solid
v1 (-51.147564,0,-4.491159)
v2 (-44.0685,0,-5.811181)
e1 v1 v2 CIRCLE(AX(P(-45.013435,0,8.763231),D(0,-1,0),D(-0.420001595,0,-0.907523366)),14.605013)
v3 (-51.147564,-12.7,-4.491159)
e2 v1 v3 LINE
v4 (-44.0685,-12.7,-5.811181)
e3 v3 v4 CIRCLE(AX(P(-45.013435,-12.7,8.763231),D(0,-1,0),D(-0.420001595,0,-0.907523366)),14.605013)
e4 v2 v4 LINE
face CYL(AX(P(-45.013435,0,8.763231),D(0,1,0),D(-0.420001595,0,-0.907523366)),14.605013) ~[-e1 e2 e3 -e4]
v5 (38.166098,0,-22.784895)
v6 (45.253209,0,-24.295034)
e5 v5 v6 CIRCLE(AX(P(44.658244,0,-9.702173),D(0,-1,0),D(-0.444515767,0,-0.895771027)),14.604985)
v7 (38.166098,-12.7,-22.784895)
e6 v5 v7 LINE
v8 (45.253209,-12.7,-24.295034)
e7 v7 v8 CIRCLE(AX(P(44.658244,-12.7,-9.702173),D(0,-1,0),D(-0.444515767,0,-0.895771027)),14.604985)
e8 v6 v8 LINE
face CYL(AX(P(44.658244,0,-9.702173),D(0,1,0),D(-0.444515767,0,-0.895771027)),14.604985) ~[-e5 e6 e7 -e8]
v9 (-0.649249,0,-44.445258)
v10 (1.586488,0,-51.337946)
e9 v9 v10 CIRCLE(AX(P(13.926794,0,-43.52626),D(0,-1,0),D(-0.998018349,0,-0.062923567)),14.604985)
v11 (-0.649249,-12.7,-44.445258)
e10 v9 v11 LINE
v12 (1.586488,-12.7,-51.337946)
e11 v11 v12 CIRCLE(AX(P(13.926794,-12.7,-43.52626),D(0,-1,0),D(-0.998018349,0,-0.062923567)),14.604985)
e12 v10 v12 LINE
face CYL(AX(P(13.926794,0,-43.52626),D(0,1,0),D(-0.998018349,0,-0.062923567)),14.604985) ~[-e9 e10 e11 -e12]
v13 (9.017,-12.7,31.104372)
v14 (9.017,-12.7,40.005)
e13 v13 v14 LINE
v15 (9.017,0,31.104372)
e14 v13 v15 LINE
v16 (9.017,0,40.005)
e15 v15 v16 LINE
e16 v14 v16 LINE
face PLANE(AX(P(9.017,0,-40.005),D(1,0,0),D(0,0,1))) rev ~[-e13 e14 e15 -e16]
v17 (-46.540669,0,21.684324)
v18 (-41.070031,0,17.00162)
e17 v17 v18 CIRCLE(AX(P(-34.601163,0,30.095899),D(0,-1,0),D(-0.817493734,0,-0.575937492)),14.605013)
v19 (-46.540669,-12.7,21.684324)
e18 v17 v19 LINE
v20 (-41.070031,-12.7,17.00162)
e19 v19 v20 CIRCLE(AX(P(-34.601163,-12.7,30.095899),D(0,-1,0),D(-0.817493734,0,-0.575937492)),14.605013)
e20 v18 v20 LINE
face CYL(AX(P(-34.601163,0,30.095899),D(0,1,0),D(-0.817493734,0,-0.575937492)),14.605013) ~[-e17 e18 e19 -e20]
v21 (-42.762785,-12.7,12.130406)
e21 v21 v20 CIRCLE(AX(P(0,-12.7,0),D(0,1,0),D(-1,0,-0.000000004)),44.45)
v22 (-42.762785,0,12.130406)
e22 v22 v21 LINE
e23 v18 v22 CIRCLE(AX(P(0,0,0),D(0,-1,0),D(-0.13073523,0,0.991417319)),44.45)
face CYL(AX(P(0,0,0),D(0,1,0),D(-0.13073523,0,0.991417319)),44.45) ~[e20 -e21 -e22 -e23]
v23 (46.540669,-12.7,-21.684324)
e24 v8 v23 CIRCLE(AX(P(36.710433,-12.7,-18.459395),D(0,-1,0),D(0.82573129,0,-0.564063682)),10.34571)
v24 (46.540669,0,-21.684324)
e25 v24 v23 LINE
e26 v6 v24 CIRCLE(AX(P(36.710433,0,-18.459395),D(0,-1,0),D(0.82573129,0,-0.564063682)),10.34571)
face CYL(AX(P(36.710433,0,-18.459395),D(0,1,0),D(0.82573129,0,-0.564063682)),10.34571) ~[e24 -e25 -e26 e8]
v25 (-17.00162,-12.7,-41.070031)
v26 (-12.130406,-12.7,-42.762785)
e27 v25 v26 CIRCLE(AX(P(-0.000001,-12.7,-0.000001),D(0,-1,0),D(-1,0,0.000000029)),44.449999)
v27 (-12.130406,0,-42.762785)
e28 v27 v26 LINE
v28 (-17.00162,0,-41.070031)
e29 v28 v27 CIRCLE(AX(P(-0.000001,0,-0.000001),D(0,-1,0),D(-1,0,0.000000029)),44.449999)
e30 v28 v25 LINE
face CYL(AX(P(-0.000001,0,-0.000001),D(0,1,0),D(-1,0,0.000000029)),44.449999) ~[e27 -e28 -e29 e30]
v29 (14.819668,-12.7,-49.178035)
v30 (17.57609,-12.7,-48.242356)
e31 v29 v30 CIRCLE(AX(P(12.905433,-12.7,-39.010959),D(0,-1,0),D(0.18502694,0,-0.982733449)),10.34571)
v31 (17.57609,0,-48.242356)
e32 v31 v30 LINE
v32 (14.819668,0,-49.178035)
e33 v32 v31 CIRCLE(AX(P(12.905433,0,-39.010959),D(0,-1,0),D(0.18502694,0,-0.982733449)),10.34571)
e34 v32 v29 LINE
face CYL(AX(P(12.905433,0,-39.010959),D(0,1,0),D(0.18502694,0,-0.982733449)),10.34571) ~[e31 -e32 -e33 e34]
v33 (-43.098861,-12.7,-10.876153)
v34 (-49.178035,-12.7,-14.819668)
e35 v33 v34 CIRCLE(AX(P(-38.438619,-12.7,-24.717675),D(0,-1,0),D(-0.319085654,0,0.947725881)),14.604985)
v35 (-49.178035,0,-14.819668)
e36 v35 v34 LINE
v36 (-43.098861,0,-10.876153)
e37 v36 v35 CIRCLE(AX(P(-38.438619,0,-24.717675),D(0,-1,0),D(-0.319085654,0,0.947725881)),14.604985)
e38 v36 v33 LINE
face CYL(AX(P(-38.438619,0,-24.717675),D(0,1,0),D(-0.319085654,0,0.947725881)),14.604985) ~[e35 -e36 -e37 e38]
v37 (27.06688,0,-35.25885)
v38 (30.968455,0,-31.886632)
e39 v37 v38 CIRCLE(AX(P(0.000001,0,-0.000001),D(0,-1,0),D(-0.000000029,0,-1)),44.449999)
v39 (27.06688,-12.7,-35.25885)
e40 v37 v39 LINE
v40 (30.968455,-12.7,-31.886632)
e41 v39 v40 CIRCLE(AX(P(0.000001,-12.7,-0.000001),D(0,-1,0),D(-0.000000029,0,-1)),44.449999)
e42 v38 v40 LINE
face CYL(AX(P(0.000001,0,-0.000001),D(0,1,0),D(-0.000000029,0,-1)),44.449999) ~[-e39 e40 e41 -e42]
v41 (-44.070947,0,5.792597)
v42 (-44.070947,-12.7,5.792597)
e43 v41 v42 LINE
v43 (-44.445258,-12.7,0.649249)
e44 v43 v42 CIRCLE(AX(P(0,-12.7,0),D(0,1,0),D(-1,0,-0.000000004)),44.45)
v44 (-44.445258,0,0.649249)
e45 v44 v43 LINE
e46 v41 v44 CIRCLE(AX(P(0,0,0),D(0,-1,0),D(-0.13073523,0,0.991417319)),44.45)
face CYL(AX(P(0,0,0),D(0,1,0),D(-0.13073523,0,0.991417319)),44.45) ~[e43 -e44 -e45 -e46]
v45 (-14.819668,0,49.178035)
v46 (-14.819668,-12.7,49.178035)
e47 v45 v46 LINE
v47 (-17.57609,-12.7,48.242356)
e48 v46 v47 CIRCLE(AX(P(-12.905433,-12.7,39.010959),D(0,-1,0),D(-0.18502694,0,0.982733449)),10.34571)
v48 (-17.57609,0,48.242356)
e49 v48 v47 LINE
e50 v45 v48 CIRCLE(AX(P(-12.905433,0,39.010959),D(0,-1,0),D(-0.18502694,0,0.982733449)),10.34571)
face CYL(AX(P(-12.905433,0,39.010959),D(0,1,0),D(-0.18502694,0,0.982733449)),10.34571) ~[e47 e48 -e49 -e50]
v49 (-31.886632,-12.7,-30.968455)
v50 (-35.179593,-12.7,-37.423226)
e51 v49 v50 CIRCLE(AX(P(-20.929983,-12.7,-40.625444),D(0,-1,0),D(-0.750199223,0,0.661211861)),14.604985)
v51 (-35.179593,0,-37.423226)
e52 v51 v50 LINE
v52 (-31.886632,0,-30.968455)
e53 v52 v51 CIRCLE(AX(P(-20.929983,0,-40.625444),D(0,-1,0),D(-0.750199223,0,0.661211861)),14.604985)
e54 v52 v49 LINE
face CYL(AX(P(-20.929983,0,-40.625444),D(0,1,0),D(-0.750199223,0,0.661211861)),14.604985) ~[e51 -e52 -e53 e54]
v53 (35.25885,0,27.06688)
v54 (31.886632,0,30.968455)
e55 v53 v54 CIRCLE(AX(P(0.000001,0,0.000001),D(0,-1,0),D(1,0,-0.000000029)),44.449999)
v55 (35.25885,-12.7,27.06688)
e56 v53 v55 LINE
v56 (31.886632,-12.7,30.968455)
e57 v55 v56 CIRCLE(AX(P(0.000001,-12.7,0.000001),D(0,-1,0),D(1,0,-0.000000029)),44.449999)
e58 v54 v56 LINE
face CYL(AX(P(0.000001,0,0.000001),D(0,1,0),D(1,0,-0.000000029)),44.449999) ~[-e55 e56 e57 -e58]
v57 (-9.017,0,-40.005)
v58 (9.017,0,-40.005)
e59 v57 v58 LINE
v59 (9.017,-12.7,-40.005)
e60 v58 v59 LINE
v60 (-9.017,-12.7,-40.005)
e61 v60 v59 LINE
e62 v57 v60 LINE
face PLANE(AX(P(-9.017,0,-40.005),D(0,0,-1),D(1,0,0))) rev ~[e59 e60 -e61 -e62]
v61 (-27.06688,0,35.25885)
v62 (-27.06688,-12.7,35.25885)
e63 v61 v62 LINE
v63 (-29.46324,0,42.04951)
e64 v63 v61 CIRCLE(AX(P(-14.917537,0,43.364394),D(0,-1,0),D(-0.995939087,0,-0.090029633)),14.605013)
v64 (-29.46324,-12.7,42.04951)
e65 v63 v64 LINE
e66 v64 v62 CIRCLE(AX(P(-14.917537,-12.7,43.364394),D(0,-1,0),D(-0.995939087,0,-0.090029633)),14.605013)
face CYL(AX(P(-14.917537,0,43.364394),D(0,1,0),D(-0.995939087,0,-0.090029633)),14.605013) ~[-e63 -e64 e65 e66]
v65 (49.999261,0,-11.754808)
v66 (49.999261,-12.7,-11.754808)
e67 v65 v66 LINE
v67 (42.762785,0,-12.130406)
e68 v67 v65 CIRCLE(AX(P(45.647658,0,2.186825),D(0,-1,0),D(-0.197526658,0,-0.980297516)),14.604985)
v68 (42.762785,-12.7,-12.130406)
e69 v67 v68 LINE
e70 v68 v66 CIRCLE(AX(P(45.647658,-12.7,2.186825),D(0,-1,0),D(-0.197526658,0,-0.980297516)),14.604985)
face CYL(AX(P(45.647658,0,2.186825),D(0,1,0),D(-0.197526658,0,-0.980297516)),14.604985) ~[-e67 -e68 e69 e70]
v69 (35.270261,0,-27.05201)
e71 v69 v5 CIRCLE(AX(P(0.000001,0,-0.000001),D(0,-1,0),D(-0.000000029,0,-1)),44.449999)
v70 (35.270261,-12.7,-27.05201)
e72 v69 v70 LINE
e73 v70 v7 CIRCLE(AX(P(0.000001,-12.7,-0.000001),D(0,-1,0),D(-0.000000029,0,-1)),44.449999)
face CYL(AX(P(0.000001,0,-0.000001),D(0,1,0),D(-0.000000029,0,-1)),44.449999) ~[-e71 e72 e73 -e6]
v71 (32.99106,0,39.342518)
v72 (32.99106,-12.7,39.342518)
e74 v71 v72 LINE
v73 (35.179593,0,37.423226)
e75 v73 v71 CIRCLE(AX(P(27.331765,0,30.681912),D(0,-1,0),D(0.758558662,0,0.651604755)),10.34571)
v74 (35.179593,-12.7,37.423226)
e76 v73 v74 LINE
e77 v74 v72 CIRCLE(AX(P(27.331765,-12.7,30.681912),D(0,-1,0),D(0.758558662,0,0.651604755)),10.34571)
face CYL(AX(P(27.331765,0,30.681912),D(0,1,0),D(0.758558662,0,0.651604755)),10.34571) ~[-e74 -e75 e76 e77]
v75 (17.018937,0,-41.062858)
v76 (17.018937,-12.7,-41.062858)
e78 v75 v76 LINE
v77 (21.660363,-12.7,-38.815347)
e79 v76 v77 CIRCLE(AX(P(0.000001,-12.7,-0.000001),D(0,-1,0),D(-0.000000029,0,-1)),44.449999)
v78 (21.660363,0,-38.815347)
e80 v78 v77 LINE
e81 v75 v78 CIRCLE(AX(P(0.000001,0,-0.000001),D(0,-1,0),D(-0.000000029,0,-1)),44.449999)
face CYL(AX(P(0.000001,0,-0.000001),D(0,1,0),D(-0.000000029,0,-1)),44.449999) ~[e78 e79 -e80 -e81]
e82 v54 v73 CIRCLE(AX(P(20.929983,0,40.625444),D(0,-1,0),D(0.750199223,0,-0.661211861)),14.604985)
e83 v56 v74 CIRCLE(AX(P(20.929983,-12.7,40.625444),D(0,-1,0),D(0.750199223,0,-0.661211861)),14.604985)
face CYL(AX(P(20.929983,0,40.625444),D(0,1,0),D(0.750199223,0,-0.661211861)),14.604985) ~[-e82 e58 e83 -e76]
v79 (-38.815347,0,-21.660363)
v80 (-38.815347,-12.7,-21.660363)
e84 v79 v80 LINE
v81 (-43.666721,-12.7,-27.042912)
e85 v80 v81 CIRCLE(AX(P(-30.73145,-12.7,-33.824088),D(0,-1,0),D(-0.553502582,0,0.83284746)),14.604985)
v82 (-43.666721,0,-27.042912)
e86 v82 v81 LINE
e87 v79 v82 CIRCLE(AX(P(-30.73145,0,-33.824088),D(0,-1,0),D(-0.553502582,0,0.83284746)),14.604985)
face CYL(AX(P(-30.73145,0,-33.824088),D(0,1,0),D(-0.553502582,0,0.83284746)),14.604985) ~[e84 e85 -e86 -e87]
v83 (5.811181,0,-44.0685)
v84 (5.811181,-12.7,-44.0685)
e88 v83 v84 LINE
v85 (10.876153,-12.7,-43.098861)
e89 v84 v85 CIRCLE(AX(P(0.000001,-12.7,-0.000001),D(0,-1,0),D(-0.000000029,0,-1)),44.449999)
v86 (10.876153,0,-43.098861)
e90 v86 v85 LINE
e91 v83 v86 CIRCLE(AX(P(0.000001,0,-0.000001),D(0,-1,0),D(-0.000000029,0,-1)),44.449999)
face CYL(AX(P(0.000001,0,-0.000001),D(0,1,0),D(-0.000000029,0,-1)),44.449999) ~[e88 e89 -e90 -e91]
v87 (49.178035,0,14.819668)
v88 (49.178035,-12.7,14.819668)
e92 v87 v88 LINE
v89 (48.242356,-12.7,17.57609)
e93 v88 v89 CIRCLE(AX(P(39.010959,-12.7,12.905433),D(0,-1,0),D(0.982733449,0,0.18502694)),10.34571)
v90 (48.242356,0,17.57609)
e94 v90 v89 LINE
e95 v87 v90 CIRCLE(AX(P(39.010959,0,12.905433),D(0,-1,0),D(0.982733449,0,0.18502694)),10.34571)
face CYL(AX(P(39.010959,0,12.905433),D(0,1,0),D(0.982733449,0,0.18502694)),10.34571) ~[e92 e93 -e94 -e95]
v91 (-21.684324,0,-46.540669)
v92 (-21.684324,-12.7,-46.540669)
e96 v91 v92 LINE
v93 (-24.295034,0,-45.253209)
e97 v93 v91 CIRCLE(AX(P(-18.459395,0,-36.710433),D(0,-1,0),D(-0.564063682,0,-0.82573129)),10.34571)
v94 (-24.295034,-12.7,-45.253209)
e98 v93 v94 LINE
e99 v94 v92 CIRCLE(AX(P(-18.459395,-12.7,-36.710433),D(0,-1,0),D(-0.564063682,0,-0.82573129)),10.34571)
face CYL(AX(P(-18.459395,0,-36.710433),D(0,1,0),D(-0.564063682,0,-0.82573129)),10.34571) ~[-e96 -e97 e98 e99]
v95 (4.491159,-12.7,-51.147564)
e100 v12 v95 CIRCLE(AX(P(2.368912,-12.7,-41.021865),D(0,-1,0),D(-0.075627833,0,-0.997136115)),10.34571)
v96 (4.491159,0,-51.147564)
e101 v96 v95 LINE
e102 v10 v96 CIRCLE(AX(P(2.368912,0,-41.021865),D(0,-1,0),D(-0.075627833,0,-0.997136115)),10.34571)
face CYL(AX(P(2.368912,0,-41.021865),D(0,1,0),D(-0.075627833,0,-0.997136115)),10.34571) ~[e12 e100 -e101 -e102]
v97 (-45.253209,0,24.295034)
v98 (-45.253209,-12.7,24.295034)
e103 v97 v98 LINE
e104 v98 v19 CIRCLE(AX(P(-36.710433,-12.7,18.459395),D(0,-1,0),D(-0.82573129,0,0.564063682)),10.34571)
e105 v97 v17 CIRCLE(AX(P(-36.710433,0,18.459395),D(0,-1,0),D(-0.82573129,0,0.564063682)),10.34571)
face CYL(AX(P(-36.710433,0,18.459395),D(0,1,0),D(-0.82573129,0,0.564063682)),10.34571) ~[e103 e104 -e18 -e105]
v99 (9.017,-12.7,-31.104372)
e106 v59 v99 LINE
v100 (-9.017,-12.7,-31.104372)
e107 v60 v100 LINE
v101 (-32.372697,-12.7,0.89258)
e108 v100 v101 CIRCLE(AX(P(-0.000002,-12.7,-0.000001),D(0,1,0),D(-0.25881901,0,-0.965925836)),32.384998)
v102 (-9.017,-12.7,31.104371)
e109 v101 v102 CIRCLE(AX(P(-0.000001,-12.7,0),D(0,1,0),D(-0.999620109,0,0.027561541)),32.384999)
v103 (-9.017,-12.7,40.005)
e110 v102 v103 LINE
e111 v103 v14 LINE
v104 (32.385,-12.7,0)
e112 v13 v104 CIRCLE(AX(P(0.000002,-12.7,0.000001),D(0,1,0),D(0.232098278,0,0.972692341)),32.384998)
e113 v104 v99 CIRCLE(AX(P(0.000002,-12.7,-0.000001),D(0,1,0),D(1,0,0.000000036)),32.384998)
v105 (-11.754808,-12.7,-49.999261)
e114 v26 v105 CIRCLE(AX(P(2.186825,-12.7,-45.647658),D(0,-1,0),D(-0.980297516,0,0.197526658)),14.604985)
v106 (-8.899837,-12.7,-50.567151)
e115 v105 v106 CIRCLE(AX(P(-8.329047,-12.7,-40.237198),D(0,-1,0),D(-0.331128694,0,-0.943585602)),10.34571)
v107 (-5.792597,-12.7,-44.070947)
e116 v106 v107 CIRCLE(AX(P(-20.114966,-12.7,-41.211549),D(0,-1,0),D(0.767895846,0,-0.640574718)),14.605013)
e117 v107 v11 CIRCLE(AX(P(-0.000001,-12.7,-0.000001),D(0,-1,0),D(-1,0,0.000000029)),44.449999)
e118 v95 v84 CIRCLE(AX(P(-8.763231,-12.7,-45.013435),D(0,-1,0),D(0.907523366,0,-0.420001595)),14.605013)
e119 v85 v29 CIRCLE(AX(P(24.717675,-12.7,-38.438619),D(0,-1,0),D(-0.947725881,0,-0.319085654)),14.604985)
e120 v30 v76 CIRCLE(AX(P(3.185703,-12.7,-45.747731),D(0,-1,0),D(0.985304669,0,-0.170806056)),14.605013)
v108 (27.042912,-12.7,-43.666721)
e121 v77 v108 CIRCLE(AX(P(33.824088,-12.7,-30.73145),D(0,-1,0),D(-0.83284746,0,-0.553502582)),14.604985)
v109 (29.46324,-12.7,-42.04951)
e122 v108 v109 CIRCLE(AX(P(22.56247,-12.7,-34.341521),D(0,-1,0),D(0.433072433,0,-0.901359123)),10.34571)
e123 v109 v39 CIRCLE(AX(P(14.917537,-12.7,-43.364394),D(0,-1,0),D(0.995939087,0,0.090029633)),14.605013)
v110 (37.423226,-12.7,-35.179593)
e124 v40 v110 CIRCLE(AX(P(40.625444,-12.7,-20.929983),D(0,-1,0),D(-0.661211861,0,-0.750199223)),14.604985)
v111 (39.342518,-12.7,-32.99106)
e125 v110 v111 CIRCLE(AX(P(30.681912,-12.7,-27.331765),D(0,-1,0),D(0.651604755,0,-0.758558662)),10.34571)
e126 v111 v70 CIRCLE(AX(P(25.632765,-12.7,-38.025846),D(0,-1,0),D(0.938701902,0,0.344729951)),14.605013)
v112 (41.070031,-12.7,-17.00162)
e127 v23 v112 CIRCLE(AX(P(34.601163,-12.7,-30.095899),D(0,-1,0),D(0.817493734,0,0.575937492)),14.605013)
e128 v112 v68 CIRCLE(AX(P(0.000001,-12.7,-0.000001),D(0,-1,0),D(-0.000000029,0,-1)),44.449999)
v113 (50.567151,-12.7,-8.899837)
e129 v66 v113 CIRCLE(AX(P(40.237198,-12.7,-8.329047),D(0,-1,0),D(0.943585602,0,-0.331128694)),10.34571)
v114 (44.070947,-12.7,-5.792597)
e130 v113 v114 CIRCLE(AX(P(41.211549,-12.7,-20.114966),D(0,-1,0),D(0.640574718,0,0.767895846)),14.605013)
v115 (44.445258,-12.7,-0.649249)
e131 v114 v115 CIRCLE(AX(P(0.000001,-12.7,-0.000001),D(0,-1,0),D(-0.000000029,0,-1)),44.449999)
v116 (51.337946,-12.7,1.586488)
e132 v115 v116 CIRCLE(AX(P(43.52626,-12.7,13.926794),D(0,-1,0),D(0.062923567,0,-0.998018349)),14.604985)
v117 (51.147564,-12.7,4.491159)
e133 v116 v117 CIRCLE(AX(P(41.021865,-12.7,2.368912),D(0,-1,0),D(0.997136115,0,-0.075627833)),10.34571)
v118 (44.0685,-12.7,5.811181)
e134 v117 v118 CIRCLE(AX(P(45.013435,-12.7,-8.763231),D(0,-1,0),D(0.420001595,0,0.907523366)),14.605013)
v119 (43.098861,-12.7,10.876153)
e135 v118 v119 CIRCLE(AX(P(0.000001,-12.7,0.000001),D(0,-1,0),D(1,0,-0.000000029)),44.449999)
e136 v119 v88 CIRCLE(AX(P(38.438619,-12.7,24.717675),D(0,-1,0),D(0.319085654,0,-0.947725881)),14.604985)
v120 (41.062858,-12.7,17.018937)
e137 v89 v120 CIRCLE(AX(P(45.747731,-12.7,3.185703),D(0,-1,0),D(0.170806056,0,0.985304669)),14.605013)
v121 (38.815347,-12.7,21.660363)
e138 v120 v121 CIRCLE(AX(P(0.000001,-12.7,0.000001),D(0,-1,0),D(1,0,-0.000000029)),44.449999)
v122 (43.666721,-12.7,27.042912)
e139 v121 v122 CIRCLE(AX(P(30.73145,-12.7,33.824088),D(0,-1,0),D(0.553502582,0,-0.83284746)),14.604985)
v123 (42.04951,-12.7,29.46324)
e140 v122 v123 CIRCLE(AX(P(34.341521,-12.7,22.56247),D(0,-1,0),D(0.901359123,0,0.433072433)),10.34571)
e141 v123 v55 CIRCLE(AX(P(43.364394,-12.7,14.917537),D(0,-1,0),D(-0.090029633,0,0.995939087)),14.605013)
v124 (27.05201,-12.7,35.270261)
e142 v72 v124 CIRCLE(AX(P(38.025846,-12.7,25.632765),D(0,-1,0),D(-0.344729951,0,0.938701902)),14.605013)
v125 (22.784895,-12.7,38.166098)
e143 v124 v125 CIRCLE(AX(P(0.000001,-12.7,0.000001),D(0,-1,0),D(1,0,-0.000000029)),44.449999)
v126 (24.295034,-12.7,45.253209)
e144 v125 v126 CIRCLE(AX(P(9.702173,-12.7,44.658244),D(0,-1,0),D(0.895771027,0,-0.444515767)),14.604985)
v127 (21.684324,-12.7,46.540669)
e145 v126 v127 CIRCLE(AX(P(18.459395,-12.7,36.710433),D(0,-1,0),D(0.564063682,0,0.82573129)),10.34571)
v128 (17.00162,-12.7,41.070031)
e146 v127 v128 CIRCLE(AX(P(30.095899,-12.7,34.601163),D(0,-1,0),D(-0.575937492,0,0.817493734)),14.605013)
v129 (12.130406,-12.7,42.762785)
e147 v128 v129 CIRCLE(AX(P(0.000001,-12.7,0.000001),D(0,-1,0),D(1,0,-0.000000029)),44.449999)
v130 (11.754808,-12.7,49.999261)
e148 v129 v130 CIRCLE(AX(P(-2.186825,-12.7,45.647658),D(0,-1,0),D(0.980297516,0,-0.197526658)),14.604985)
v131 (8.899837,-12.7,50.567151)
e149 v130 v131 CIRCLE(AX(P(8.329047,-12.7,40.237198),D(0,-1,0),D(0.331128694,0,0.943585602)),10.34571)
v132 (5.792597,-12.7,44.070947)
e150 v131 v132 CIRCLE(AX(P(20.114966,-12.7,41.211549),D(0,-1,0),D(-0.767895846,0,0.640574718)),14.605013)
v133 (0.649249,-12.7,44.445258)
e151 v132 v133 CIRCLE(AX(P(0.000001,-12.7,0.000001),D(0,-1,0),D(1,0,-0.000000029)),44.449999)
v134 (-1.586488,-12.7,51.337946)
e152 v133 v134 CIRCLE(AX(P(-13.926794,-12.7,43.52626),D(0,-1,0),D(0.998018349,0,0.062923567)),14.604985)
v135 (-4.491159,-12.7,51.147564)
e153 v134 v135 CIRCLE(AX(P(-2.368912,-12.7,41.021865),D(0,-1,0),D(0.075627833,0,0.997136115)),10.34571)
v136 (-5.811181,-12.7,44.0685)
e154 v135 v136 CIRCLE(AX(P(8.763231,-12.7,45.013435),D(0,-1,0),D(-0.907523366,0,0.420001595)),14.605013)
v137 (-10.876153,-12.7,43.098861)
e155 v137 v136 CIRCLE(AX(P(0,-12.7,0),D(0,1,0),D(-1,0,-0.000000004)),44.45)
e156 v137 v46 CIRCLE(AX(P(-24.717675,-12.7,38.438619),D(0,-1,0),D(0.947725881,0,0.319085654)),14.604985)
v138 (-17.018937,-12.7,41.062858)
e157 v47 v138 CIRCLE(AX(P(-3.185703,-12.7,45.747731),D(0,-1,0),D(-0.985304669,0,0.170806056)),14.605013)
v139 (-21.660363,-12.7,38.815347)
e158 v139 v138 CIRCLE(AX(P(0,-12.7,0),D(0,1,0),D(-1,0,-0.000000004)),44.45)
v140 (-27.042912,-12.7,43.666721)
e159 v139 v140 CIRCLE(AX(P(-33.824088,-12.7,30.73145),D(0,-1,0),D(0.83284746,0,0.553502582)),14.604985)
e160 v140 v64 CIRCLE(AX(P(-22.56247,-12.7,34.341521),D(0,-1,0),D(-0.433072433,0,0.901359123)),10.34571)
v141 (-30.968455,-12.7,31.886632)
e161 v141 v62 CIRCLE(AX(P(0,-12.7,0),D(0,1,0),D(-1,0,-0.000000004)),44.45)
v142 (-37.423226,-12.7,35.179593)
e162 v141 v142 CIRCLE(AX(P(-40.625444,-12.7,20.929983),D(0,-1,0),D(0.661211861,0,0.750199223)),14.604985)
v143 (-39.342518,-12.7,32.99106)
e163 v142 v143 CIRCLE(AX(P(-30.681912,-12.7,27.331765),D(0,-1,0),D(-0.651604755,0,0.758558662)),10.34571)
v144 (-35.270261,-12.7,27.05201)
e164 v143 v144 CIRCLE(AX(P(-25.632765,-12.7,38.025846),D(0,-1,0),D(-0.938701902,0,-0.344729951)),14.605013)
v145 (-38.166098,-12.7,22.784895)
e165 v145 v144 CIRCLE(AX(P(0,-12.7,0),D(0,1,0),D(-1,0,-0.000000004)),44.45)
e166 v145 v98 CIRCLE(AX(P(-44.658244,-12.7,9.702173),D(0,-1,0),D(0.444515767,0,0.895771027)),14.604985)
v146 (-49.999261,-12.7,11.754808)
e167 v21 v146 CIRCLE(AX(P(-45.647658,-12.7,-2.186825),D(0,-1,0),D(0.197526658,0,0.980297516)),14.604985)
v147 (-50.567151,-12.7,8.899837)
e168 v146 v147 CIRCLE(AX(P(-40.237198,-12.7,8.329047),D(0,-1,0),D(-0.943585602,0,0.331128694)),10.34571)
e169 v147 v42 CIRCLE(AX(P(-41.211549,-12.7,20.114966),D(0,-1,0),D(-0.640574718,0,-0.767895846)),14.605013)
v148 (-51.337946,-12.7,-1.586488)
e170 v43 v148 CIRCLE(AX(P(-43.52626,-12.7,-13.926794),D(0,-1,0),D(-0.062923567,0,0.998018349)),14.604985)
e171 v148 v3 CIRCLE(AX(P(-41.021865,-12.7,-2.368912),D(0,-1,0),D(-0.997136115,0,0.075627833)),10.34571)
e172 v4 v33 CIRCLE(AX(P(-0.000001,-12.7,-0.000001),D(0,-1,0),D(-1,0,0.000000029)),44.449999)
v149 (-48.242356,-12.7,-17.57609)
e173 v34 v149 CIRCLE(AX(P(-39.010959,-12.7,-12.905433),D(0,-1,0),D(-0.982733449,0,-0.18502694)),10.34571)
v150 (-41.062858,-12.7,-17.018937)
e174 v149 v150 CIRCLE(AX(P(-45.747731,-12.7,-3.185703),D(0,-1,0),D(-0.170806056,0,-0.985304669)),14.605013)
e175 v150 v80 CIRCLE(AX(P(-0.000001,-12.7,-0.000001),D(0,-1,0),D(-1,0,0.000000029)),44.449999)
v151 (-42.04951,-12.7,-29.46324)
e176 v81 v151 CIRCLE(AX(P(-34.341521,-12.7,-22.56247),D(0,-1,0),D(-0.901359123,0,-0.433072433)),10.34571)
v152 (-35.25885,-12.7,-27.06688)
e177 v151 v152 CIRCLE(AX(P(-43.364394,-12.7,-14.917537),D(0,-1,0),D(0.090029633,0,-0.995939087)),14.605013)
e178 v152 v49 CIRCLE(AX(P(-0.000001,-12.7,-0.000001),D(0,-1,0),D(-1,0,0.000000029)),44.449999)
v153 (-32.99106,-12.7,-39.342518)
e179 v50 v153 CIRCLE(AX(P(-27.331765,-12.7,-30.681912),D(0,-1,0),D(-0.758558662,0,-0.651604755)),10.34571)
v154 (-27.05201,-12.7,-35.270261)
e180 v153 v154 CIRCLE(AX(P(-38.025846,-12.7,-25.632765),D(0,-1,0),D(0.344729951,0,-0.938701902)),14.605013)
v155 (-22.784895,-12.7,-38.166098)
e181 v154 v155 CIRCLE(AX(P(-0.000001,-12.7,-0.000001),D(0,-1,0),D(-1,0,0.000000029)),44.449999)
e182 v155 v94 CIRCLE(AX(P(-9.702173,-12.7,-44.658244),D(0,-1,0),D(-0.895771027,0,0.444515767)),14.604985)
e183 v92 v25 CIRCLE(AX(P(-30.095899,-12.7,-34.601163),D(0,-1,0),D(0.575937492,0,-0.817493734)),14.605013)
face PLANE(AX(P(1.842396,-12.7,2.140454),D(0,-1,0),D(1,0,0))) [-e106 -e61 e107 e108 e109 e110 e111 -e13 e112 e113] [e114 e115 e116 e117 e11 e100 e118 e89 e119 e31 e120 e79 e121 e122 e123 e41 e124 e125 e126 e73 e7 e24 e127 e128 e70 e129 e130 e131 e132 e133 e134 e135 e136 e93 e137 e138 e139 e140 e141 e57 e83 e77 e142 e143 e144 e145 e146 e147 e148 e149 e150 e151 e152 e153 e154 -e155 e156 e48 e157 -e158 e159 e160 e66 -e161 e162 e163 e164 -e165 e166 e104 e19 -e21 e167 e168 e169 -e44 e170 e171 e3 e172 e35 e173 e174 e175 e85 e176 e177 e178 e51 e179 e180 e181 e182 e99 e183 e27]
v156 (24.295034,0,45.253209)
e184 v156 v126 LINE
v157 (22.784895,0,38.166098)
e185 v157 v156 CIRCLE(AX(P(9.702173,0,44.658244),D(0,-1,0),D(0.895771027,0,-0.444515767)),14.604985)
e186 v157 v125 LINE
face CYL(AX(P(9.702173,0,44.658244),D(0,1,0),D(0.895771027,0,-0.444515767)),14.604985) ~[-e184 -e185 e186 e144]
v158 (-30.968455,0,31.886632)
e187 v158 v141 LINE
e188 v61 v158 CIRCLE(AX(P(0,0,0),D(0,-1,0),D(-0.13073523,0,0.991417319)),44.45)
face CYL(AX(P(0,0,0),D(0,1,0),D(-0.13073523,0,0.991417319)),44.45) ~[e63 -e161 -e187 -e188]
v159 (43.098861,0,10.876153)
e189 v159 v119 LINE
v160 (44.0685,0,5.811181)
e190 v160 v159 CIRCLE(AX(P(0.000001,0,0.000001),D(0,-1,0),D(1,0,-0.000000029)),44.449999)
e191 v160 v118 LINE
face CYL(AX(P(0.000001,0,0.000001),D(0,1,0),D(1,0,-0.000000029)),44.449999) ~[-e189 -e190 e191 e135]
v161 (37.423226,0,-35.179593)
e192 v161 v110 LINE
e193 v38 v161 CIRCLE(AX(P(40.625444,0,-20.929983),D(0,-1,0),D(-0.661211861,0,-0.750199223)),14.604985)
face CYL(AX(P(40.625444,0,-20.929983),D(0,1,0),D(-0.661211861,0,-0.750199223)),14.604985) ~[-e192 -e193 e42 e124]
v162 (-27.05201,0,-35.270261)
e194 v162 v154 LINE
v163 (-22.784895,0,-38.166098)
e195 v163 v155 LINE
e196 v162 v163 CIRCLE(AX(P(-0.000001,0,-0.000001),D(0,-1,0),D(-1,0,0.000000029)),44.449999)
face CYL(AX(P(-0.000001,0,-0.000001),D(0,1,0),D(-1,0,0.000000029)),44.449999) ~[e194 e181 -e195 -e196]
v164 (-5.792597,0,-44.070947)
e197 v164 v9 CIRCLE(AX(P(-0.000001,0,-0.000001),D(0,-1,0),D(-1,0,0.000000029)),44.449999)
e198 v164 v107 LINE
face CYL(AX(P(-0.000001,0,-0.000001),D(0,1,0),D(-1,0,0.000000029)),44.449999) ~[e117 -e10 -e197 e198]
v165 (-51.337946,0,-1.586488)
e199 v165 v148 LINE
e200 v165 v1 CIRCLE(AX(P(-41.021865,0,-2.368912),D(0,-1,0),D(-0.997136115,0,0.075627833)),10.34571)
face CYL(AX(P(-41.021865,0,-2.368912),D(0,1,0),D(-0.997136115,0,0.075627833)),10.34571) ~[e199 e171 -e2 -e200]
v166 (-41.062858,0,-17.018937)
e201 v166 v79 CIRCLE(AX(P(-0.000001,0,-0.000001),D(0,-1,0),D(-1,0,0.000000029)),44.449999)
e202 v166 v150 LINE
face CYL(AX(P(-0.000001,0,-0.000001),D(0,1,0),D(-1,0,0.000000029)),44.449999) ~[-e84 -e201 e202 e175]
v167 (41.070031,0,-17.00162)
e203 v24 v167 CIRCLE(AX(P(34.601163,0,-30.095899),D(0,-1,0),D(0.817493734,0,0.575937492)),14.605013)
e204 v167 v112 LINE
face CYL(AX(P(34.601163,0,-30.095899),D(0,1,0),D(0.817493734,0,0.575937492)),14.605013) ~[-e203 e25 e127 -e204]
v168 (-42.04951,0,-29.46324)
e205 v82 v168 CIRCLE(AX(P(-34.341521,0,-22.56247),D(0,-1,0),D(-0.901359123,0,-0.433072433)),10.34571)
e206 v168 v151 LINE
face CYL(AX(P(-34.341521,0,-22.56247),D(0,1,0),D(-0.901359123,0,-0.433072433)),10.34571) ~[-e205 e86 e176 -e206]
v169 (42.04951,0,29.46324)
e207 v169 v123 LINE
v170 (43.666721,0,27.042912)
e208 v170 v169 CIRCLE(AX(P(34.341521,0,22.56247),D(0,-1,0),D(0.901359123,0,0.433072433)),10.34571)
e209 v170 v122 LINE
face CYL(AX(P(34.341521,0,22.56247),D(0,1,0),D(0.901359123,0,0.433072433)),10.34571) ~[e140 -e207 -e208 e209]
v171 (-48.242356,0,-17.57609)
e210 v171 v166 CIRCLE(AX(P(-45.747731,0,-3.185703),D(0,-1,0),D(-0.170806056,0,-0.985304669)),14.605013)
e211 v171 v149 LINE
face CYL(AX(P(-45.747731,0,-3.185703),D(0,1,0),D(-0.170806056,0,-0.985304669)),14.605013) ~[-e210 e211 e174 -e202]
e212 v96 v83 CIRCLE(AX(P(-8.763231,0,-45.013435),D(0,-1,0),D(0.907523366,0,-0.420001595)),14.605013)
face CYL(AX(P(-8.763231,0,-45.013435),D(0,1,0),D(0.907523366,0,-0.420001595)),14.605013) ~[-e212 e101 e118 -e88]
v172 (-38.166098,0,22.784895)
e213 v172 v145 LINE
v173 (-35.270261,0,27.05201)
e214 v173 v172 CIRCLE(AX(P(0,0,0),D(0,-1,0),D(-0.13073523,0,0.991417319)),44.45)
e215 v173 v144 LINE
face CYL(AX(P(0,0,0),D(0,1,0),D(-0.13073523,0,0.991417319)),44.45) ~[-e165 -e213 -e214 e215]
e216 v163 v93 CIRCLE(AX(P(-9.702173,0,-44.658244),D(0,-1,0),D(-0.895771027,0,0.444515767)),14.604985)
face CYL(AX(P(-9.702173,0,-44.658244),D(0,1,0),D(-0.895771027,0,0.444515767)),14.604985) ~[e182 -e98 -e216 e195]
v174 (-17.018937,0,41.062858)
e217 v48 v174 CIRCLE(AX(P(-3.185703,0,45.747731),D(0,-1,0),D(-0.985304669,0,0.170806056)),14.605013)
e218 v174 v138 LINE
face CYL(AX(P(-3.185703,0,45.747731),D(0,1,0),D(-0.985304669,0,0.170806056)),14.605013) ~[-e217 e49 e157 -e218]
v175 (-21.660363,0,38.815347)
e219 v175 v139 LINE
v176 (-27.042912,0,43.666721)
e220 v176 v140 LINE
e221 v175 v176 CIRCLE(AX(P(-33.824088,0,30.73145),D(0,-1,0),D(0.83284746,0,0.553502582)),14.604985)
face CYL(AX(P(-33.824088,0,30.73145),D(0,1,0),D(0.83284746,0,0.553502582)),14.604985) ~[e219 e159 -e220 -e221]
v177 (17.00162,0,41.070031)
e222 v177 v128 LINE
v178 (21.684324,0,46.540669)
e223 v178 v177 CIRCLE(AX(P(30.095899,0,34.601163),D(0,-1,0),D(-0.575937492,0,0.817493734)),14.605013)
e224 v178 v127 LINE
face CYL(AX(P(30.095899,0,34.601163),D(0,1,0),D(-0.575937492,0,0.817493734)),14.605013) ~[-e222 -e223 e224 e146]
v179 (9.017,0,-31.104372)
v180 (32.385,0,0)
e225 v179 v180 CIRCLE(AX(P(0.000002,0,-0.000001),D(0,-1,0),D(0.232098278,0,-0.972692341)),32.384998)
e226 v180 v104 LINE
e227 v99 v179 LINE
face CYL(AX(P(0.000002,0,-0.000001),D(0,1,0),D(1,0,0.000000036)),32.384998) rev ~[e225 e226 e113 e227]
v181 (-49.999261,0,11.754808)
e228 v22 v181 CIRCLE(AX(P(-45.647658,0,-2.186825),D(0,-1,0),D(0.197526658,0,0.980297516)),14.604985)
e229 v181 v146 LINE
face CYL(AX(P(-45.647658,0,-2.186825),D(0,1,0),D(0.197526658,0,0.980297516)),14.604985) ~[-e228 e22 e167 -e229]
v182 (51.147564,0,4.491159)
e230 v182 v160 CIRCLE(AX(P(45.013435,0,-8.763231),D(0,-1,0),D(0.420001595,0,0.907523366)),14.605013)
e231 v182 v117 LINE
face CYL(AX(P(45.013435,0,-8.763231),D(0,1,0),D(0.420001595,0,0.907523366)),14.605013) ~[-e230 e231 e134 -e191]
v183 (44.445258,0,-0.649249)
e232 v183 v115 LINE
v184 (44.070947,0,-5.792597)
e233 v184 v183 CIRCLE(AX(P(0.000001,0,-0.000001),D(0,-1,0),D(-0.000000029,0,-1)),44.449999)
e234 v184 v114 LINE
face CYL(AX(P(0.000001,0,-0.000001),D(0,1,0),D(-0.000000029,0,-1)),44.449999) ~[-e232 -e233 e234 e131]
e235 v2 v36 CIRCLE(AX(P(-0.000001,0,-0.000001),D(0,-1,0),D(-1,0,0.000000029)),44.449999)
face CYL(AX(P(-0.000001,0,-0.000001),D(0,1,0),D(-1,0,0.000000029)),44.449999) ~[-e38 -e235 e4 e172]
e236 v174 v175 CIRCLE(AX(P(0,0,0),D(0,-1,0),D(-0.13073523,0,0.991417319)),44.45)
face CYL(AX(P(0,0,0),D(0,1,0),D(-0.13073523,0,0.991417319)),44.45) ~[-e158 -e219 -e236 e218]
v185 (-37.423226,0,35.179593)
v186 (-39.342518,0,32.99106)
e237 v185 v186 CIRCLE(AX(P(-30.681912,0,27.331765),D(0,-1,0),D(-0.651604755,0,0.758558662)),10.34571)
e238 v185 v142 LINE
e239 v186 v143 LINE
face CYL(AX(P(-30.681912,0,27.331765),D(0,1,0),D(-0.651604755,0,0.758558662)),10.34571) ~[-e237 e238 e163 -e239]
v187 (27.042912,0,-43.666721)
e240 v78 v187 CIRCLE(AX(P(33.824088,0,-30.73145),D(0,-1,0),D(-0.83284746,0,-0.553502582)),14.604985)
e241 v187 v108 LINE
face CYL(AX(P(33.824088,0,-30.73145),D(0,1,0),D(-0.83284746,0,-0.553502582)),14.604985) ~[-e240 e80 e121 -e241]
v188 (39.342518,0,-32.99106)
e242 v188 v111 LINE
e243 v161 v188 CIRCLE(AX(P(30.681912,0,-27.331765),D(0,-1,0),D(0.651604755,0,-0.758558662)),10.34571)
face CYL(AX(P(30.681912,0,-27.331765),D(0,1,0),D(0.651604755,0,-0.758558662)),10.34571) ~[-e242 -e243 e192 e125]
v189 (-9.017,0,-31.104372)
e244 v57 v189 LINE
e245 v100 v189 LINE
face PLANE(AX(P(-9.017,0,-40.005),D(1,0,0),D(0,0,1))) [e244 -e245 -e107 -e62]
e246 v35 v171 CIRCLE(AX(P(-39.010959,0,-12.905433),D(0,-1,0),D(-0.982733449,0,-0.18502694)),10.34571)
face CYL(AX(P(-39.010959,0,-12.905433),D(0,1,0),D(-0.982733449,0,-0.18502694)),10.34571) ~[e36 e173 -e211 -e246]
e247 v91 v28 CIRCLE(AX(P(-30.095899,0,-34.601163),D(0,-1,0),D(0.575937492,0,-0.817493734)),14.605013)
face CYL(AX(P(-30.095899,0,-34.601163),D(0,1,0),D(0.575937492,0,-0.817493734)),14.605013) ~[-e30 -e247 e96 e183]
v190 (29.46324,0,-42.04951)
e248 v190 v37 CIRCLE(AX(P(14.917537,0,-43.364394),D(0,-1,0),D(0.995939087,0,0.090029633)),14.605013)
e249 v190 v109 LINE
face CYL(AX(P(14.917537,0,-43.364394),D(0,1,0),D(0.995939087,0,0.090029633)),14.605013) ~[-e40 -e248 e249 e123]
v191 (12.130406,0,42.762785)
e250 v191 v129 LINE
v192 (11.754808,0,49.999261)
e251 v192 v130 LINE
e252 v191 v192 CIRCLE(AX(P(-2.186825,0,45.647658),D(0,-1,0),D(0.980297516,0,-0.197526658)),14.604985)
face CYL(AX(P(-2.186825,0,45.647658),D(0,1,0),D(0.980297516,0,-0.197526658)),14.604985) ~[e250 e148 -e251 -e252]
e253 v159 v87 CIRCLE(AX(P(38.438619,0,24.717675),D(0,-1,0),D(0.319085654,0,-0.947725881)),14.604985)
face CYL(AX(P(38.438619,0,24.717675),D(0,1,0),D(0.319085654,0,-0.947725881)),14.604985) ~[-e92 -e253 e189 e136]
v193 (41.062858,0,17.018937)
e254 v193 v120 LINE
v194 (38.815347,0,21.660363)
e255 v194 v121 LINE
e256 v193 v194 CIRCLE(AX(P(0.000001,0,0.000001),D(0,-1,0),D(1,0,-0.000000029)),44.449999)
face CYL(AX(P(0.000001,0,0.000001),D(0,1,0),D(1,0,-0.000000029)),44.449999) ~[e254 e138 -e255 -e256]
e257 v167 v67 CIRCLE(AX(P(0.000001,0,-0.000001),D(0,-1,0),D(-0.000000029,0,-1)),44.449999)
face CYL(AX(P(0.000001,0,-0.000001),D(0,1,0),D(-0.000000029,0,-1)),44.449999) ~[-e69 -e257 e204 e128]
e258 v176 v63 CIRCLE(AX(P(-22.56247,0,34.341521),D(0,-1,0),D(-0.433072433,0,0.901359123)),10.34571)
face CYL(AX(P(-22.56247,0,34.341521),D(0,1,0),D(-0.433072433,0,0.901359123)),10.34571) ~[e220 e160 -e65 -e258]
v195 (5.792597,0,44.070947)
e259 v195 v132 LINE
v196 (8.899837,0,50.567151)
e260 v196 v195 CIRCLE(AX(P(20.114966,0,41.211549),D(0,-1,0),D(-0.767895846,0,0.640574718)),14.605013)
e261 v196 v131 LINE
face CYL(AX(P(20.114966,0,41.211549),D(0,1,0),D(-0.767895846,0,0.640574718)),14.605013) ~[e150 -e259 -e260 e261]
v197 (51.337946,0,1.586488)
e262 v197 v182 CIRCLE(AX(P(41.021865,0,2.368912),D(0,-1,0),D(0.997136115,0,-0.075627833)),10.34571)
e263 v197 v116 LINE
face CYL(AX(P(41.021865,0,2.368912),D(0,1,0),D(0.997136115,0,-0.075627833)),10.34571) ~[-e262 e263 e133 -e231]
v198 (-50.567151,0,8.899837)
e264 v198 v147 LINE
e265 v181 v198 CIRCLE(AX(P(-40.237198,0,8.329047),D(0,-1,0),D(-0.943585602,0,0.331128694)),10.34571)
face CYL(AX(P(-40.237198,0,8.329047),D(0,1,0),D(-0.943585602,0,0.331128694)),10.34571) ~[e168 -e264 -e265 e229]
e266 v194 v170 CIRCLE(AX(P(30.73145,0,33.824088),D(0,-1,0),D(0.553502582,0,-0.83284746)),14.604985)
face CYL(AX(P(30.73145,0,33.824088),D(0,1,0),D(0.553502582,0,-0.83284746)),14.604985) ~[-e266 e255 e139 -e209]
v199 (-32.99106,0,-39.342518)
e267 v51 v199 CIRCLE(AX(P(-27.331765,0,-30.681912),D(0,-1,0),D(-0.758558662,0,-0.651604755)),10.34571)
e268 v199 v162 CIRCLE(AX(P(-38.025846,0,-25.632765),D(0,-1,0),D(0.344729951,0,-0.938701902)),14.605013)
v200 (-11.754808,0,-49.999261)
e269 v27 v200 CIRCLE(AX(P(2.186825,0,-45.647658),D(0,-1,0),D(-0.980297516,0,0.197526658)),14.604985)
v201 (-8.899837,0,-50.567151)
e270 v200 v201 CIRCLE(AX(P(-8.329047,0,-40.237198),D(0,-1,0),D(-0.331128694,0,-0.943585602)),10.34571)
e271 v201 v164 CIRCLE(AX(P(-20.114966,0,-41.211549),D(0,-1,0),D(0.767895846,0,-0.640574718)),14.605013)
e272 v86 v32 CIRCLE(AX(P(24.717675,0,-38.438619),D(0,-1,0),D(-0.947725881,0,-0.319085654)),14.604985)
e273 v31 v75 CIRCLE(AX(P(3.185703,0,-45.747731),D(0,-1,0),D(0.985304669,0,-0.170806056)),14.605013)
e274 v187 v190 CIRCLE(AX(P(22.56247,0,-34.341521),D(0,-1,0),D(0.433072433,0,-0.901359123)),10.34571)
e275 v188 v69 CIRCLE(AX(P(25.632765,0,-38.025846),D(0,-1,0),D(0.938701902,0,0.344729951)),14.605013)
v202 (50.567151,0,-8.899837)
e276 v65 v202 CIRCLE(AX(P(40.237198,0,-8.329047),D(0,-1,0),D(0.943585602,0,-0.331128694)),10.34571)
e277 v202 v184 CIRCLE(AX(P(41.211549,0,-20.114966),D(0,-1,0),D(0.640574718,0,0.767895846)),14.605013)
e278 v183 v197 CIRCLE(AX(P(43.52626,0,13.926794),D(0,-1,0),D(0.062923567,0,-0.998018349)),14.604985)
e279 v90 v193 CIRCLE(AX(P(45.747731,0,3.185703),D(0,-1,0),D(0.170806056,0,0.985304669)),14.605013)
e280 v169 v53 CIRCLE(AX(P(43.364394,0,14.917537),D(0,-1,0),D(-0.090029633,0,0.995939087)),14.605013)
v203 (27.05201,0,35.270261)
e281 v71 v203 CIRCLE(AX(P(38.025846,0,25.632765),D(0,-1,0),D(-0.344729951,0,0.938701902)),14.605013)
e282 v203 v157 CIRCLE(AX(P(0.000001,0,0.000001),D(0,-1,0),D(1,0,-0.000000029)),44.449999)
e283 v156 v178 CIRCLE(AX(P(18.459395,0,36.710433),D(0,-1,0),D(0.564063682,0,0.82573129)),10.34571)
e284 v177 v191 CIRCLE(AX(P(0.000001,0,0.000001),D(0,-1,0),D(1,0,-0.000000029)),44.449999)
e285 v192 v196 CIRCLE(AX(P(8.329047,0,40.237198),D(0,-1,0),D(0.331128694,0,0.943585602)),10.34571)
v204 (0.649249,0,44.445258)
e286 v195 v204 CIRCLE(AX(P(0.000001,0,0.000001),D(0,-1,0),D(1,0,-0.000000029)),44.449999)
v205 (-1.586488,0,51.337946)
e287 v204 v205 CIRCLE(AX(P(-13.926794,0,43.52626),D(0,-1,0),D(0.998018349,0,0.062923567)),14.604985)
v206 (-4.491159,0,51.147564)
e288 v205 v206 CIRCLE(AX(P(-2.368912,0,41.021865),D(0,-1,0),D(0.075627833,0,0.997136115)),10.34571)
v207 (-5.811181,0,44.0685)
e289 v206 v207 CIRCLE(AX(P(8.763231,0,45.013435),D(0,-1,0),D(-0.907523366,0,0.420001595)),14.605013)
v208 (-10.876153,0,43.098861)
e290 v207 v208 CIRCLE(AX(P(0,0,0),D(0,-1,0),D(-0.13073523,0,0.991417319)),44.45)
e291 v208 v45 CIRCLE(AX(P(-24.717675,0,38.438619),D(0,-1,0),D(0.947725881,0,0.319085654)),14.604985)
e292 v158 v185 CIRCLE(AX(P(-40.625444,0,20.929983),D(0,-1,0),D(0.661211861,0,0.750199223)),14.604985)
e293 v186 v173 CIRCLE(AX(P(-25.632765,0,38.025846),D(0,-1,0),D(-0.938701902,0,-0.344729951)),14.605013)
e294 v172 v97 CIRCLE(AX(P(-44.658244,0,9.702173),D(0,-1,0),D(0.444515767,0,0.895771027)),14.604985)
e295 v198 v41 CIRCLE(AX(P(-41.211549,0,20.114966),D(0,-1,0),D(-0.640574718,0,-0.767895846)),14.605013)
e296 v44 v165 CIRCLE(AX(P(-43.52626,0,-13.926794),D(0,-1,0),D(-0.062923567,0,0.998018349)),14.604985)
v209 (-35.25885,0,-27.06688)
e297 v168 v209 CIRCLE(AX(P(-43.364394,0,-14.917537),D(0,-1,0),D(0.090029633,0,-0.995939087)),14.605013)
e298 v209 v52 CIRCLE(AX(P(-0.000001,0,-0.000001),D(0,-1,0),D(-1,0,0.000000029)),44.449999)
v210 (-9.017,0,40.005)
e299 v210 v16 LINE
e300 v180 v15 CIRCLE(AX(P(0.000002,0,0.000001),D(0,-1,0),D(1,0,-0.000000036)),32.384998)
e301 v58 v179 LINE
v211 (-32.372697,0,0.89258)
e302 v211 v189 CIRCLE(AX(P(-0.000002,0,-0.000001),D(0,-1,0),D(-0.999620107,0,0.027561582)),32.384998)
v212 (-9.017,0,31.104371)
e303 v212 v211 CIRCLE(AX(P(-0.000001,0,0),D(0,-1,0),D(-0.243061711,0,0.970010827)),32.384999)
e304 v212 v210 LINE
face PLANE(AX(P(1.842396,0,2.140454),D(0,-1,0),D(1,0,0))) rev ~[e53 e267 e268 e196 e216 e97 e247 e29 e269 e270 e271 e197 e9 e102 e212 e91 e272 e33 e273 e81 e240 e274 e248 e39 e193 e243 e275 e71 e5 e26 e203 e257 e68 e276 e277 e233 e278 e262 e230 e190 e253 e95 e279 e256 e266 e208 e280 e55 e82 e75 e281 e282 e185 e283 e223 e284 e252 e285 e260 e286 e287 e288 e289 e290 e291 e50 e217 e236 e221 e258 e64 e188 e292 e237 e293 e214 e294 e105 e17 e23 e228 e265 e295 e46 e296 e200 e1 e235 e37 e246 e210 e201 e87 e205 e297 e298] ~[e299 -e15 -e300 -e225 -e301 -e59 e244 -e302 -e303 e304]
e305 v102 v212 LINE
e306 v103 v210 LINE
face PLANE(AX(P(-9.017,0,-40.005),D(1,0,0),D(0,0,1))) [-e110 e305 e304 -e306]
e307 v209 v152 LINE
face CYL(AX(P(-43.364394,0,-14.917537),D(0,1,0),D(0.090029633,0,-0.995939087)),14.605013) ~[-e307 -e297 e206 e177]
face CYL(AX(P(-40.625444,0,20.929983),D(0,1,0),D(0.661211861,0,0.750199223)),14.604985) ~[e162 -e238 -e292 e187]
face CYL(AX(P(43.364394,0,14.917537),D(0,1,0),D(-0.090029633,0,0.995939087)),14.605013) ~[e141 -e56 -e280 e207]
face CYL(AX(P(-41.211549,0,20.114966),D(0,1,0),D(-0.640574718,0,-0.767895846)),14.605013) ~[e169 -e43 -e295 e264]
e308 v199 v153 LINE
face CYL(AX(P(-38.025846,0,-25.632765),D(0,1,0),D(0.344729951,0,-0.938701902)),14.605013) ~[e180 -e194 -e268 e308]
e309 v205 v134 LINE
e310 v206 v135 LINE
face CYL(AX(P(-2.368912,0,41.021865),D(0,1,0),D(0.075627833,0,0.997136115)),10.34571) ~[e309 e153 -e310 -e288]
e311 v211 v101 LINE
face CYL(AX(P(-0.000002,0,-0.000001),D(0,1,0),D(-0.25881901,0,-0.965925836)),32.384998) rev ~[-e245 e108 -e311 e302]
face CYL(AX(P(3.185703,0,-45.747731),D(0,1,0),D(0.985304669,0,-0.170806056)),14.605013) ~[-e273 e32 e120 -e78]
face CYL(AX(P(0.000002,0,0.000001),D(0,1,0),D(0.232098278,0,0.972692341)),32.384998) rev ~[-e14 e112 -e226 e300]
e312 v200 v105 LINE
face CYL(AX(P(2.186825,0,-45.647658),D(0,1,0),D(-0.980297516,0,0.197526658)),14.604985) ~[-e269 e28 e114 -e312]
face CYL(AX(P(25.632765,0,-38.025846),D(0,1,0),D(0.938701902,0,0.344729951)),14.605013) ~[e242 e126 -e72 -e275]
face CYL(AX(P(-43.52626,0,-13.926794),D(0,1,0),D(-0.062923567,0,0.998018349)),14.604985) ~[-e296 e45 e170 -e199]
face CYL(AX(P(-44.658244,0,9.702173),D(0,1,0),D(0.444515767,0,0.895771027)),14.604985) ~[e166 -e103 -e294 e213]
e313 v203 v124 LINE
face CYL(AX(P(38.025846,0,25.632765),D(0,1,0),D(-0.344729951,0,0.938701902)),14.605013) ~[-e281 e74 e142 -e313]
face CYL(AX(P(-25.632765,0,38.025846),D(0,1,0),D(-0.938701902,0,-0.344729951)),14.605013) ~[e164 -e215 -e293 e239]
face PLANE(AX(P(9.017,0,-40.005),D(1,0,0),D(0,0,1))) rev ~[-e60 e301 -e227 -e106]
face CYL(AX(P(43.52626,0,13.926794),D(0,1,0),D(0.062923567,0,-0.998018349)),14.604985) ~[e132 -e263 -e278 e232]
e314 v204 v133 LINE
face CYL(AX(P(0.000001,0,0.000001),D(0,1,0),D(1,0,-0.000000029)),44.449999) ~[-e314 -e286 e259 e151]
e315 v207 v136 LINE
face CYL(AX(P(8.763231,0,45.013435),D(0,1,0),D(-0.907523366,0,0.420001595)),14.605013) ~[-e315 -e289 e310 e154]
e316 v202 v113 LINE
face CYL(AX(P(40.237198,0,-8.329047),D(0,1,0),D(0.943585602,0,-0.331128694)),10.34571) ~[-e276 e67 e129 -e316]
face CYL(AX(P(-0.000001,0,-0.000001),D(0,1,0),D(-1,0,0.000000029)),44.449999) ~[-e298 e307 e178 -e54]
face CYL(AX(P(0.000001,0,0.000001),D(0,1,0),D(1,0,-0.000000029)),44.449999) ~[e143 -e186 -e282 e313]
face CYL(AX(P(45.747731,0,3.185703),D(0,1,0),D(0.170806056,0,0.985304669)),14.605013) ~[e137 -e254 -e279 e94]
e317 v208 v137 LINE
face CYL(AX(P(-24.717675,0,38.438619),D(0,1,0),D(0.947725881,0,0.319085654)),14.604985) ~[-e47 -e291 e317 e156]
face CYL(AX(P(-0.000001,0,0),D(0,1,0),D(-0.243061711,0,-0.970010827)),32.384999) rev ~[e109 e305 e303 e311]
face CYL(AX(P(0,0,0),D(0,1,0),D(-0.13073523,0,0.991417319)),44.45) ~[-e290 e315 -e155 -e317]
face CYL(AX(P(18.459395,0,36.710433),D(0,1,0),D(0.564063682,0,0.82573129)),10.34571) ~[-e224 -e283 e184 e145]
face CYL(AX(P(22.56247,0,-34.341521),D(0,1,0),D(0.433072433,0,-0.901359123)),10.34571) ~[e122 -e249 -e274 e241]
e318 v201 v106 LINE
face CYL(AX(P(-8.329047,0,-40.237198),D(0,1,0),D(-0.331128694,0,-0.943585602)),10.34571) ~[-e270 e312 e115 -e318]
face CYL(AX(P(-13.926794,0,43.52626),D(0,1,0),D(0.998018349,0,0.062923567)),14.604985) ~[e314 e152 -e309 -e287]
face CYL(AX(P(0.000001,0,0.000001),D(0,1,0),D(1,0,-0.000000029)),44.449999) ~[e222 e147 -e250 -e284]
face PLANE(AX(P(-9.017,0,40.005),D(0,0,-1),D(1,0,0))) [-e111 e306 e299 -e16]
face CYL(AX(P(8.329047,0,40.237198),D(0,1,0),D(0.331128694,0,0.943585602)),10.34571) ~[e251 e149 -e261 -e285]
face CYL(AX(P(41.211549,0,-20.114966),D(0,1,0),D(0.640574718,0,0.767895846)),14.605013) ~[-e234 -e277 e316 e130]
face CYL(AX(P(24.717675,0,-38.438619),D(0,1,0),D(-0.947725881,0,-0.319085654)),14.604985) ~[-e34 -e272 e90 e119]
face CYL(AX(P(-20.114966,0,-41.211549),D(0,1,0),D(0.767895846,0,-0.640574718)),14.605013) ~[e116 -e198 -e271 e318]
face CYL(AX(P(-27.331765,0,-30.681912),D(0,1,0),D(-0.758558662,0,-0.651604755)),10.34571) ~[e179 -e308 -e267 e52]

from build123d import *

# Parameters (mm, degrees)
F1_DEPTH = 12.7
F2_COUNT = 24
F2_ANGLE = 345
F3_W     = 18.034
F3_H     = 80.01
F4_DEPTH = 25.4


with BuildPart() as f1:
    # F0 (on Front) → F1 (new body)
    with BuildSketch(Plane.XZ):
        with BuildLine():
            ThreePointArc((-5.811181, 44.0685), (-29.304398, -33.422369), (44.45, 0))
            ThreePointArc((44.45, 0), (31.659609, 31.200508), (0.649249, 44.445258))
            ThreePointArc((0.649249, 44.445258), (-2.587831, 44.374606), (-5.811181, 44.0685))
        make_face()
        with BuildLine():
            ThreePointArc((7.516504, 31.500641), (25.418598, 20.066966), (32.385, 0))
            ThreePointArc((32.385, 0), (25.418598, -20.066966), (7.516504, -31.500641))
            Line((7.516504, -31.500641), (7.516504, -39.878))
            Line((7.516504, -39.878), (-7.871554, -39.878))
            Line((-7.871554, -39.878), (-7.871554, -31.4138))
            ThreePointArc((-7.871554, -31.4138), (-32.385, 0), (-7.871554, 31.4138))
            Line((-7.871554, 31.4138), (-7.871554, 39.878))
            Line((-7.871554, 39.878), (7.516504, 39.878))
            Line((7.516504, 39.878), (7.516504, 31.500641))
        make_face(mode=Mode.SUBTRACT)
        with BuildLine():
            ThreePointArc((-5.811181, 44.0685), (-2.587831, 44.374606), (0.649249, 44.445258))
            ThreePointArc((0.649249, 44.445258), (-0.034359, 48.03246), (-1.586488, 51.337946))
            ThreePointArc((-1.586488, 51.337946), (-3.045553, 51.345424), (-4.491159, 51.147564))
            ThreePointArc((-4.491159, 51.147564), (-5.594305, 47.690663), (-5.811181, 44.0685))
        make_face()
    extrude(amount=F1_DEPTH)

    # F2: F1 ×24 about axis
    f2_axis = Axis((0, 0, 0), (0, 1, 0))


with BuildPart() as f1_1:
    add(f1.part)
    for i in range(1, F2_COUNT):
        add(f1.part.rotate(f2_axis, i * F2_ANGLE / (F2_COUNT - 1)))

    # F3 (on Front) → F4 (cut, symmetric)
    with BuildSketch(Plane.XZ):
        Rectangle(F3_W, F3_H)
    extrude(amount=F4_DEPTH, both=True, mode=Mode.SUBTRACT)


solid = f1_1.part
